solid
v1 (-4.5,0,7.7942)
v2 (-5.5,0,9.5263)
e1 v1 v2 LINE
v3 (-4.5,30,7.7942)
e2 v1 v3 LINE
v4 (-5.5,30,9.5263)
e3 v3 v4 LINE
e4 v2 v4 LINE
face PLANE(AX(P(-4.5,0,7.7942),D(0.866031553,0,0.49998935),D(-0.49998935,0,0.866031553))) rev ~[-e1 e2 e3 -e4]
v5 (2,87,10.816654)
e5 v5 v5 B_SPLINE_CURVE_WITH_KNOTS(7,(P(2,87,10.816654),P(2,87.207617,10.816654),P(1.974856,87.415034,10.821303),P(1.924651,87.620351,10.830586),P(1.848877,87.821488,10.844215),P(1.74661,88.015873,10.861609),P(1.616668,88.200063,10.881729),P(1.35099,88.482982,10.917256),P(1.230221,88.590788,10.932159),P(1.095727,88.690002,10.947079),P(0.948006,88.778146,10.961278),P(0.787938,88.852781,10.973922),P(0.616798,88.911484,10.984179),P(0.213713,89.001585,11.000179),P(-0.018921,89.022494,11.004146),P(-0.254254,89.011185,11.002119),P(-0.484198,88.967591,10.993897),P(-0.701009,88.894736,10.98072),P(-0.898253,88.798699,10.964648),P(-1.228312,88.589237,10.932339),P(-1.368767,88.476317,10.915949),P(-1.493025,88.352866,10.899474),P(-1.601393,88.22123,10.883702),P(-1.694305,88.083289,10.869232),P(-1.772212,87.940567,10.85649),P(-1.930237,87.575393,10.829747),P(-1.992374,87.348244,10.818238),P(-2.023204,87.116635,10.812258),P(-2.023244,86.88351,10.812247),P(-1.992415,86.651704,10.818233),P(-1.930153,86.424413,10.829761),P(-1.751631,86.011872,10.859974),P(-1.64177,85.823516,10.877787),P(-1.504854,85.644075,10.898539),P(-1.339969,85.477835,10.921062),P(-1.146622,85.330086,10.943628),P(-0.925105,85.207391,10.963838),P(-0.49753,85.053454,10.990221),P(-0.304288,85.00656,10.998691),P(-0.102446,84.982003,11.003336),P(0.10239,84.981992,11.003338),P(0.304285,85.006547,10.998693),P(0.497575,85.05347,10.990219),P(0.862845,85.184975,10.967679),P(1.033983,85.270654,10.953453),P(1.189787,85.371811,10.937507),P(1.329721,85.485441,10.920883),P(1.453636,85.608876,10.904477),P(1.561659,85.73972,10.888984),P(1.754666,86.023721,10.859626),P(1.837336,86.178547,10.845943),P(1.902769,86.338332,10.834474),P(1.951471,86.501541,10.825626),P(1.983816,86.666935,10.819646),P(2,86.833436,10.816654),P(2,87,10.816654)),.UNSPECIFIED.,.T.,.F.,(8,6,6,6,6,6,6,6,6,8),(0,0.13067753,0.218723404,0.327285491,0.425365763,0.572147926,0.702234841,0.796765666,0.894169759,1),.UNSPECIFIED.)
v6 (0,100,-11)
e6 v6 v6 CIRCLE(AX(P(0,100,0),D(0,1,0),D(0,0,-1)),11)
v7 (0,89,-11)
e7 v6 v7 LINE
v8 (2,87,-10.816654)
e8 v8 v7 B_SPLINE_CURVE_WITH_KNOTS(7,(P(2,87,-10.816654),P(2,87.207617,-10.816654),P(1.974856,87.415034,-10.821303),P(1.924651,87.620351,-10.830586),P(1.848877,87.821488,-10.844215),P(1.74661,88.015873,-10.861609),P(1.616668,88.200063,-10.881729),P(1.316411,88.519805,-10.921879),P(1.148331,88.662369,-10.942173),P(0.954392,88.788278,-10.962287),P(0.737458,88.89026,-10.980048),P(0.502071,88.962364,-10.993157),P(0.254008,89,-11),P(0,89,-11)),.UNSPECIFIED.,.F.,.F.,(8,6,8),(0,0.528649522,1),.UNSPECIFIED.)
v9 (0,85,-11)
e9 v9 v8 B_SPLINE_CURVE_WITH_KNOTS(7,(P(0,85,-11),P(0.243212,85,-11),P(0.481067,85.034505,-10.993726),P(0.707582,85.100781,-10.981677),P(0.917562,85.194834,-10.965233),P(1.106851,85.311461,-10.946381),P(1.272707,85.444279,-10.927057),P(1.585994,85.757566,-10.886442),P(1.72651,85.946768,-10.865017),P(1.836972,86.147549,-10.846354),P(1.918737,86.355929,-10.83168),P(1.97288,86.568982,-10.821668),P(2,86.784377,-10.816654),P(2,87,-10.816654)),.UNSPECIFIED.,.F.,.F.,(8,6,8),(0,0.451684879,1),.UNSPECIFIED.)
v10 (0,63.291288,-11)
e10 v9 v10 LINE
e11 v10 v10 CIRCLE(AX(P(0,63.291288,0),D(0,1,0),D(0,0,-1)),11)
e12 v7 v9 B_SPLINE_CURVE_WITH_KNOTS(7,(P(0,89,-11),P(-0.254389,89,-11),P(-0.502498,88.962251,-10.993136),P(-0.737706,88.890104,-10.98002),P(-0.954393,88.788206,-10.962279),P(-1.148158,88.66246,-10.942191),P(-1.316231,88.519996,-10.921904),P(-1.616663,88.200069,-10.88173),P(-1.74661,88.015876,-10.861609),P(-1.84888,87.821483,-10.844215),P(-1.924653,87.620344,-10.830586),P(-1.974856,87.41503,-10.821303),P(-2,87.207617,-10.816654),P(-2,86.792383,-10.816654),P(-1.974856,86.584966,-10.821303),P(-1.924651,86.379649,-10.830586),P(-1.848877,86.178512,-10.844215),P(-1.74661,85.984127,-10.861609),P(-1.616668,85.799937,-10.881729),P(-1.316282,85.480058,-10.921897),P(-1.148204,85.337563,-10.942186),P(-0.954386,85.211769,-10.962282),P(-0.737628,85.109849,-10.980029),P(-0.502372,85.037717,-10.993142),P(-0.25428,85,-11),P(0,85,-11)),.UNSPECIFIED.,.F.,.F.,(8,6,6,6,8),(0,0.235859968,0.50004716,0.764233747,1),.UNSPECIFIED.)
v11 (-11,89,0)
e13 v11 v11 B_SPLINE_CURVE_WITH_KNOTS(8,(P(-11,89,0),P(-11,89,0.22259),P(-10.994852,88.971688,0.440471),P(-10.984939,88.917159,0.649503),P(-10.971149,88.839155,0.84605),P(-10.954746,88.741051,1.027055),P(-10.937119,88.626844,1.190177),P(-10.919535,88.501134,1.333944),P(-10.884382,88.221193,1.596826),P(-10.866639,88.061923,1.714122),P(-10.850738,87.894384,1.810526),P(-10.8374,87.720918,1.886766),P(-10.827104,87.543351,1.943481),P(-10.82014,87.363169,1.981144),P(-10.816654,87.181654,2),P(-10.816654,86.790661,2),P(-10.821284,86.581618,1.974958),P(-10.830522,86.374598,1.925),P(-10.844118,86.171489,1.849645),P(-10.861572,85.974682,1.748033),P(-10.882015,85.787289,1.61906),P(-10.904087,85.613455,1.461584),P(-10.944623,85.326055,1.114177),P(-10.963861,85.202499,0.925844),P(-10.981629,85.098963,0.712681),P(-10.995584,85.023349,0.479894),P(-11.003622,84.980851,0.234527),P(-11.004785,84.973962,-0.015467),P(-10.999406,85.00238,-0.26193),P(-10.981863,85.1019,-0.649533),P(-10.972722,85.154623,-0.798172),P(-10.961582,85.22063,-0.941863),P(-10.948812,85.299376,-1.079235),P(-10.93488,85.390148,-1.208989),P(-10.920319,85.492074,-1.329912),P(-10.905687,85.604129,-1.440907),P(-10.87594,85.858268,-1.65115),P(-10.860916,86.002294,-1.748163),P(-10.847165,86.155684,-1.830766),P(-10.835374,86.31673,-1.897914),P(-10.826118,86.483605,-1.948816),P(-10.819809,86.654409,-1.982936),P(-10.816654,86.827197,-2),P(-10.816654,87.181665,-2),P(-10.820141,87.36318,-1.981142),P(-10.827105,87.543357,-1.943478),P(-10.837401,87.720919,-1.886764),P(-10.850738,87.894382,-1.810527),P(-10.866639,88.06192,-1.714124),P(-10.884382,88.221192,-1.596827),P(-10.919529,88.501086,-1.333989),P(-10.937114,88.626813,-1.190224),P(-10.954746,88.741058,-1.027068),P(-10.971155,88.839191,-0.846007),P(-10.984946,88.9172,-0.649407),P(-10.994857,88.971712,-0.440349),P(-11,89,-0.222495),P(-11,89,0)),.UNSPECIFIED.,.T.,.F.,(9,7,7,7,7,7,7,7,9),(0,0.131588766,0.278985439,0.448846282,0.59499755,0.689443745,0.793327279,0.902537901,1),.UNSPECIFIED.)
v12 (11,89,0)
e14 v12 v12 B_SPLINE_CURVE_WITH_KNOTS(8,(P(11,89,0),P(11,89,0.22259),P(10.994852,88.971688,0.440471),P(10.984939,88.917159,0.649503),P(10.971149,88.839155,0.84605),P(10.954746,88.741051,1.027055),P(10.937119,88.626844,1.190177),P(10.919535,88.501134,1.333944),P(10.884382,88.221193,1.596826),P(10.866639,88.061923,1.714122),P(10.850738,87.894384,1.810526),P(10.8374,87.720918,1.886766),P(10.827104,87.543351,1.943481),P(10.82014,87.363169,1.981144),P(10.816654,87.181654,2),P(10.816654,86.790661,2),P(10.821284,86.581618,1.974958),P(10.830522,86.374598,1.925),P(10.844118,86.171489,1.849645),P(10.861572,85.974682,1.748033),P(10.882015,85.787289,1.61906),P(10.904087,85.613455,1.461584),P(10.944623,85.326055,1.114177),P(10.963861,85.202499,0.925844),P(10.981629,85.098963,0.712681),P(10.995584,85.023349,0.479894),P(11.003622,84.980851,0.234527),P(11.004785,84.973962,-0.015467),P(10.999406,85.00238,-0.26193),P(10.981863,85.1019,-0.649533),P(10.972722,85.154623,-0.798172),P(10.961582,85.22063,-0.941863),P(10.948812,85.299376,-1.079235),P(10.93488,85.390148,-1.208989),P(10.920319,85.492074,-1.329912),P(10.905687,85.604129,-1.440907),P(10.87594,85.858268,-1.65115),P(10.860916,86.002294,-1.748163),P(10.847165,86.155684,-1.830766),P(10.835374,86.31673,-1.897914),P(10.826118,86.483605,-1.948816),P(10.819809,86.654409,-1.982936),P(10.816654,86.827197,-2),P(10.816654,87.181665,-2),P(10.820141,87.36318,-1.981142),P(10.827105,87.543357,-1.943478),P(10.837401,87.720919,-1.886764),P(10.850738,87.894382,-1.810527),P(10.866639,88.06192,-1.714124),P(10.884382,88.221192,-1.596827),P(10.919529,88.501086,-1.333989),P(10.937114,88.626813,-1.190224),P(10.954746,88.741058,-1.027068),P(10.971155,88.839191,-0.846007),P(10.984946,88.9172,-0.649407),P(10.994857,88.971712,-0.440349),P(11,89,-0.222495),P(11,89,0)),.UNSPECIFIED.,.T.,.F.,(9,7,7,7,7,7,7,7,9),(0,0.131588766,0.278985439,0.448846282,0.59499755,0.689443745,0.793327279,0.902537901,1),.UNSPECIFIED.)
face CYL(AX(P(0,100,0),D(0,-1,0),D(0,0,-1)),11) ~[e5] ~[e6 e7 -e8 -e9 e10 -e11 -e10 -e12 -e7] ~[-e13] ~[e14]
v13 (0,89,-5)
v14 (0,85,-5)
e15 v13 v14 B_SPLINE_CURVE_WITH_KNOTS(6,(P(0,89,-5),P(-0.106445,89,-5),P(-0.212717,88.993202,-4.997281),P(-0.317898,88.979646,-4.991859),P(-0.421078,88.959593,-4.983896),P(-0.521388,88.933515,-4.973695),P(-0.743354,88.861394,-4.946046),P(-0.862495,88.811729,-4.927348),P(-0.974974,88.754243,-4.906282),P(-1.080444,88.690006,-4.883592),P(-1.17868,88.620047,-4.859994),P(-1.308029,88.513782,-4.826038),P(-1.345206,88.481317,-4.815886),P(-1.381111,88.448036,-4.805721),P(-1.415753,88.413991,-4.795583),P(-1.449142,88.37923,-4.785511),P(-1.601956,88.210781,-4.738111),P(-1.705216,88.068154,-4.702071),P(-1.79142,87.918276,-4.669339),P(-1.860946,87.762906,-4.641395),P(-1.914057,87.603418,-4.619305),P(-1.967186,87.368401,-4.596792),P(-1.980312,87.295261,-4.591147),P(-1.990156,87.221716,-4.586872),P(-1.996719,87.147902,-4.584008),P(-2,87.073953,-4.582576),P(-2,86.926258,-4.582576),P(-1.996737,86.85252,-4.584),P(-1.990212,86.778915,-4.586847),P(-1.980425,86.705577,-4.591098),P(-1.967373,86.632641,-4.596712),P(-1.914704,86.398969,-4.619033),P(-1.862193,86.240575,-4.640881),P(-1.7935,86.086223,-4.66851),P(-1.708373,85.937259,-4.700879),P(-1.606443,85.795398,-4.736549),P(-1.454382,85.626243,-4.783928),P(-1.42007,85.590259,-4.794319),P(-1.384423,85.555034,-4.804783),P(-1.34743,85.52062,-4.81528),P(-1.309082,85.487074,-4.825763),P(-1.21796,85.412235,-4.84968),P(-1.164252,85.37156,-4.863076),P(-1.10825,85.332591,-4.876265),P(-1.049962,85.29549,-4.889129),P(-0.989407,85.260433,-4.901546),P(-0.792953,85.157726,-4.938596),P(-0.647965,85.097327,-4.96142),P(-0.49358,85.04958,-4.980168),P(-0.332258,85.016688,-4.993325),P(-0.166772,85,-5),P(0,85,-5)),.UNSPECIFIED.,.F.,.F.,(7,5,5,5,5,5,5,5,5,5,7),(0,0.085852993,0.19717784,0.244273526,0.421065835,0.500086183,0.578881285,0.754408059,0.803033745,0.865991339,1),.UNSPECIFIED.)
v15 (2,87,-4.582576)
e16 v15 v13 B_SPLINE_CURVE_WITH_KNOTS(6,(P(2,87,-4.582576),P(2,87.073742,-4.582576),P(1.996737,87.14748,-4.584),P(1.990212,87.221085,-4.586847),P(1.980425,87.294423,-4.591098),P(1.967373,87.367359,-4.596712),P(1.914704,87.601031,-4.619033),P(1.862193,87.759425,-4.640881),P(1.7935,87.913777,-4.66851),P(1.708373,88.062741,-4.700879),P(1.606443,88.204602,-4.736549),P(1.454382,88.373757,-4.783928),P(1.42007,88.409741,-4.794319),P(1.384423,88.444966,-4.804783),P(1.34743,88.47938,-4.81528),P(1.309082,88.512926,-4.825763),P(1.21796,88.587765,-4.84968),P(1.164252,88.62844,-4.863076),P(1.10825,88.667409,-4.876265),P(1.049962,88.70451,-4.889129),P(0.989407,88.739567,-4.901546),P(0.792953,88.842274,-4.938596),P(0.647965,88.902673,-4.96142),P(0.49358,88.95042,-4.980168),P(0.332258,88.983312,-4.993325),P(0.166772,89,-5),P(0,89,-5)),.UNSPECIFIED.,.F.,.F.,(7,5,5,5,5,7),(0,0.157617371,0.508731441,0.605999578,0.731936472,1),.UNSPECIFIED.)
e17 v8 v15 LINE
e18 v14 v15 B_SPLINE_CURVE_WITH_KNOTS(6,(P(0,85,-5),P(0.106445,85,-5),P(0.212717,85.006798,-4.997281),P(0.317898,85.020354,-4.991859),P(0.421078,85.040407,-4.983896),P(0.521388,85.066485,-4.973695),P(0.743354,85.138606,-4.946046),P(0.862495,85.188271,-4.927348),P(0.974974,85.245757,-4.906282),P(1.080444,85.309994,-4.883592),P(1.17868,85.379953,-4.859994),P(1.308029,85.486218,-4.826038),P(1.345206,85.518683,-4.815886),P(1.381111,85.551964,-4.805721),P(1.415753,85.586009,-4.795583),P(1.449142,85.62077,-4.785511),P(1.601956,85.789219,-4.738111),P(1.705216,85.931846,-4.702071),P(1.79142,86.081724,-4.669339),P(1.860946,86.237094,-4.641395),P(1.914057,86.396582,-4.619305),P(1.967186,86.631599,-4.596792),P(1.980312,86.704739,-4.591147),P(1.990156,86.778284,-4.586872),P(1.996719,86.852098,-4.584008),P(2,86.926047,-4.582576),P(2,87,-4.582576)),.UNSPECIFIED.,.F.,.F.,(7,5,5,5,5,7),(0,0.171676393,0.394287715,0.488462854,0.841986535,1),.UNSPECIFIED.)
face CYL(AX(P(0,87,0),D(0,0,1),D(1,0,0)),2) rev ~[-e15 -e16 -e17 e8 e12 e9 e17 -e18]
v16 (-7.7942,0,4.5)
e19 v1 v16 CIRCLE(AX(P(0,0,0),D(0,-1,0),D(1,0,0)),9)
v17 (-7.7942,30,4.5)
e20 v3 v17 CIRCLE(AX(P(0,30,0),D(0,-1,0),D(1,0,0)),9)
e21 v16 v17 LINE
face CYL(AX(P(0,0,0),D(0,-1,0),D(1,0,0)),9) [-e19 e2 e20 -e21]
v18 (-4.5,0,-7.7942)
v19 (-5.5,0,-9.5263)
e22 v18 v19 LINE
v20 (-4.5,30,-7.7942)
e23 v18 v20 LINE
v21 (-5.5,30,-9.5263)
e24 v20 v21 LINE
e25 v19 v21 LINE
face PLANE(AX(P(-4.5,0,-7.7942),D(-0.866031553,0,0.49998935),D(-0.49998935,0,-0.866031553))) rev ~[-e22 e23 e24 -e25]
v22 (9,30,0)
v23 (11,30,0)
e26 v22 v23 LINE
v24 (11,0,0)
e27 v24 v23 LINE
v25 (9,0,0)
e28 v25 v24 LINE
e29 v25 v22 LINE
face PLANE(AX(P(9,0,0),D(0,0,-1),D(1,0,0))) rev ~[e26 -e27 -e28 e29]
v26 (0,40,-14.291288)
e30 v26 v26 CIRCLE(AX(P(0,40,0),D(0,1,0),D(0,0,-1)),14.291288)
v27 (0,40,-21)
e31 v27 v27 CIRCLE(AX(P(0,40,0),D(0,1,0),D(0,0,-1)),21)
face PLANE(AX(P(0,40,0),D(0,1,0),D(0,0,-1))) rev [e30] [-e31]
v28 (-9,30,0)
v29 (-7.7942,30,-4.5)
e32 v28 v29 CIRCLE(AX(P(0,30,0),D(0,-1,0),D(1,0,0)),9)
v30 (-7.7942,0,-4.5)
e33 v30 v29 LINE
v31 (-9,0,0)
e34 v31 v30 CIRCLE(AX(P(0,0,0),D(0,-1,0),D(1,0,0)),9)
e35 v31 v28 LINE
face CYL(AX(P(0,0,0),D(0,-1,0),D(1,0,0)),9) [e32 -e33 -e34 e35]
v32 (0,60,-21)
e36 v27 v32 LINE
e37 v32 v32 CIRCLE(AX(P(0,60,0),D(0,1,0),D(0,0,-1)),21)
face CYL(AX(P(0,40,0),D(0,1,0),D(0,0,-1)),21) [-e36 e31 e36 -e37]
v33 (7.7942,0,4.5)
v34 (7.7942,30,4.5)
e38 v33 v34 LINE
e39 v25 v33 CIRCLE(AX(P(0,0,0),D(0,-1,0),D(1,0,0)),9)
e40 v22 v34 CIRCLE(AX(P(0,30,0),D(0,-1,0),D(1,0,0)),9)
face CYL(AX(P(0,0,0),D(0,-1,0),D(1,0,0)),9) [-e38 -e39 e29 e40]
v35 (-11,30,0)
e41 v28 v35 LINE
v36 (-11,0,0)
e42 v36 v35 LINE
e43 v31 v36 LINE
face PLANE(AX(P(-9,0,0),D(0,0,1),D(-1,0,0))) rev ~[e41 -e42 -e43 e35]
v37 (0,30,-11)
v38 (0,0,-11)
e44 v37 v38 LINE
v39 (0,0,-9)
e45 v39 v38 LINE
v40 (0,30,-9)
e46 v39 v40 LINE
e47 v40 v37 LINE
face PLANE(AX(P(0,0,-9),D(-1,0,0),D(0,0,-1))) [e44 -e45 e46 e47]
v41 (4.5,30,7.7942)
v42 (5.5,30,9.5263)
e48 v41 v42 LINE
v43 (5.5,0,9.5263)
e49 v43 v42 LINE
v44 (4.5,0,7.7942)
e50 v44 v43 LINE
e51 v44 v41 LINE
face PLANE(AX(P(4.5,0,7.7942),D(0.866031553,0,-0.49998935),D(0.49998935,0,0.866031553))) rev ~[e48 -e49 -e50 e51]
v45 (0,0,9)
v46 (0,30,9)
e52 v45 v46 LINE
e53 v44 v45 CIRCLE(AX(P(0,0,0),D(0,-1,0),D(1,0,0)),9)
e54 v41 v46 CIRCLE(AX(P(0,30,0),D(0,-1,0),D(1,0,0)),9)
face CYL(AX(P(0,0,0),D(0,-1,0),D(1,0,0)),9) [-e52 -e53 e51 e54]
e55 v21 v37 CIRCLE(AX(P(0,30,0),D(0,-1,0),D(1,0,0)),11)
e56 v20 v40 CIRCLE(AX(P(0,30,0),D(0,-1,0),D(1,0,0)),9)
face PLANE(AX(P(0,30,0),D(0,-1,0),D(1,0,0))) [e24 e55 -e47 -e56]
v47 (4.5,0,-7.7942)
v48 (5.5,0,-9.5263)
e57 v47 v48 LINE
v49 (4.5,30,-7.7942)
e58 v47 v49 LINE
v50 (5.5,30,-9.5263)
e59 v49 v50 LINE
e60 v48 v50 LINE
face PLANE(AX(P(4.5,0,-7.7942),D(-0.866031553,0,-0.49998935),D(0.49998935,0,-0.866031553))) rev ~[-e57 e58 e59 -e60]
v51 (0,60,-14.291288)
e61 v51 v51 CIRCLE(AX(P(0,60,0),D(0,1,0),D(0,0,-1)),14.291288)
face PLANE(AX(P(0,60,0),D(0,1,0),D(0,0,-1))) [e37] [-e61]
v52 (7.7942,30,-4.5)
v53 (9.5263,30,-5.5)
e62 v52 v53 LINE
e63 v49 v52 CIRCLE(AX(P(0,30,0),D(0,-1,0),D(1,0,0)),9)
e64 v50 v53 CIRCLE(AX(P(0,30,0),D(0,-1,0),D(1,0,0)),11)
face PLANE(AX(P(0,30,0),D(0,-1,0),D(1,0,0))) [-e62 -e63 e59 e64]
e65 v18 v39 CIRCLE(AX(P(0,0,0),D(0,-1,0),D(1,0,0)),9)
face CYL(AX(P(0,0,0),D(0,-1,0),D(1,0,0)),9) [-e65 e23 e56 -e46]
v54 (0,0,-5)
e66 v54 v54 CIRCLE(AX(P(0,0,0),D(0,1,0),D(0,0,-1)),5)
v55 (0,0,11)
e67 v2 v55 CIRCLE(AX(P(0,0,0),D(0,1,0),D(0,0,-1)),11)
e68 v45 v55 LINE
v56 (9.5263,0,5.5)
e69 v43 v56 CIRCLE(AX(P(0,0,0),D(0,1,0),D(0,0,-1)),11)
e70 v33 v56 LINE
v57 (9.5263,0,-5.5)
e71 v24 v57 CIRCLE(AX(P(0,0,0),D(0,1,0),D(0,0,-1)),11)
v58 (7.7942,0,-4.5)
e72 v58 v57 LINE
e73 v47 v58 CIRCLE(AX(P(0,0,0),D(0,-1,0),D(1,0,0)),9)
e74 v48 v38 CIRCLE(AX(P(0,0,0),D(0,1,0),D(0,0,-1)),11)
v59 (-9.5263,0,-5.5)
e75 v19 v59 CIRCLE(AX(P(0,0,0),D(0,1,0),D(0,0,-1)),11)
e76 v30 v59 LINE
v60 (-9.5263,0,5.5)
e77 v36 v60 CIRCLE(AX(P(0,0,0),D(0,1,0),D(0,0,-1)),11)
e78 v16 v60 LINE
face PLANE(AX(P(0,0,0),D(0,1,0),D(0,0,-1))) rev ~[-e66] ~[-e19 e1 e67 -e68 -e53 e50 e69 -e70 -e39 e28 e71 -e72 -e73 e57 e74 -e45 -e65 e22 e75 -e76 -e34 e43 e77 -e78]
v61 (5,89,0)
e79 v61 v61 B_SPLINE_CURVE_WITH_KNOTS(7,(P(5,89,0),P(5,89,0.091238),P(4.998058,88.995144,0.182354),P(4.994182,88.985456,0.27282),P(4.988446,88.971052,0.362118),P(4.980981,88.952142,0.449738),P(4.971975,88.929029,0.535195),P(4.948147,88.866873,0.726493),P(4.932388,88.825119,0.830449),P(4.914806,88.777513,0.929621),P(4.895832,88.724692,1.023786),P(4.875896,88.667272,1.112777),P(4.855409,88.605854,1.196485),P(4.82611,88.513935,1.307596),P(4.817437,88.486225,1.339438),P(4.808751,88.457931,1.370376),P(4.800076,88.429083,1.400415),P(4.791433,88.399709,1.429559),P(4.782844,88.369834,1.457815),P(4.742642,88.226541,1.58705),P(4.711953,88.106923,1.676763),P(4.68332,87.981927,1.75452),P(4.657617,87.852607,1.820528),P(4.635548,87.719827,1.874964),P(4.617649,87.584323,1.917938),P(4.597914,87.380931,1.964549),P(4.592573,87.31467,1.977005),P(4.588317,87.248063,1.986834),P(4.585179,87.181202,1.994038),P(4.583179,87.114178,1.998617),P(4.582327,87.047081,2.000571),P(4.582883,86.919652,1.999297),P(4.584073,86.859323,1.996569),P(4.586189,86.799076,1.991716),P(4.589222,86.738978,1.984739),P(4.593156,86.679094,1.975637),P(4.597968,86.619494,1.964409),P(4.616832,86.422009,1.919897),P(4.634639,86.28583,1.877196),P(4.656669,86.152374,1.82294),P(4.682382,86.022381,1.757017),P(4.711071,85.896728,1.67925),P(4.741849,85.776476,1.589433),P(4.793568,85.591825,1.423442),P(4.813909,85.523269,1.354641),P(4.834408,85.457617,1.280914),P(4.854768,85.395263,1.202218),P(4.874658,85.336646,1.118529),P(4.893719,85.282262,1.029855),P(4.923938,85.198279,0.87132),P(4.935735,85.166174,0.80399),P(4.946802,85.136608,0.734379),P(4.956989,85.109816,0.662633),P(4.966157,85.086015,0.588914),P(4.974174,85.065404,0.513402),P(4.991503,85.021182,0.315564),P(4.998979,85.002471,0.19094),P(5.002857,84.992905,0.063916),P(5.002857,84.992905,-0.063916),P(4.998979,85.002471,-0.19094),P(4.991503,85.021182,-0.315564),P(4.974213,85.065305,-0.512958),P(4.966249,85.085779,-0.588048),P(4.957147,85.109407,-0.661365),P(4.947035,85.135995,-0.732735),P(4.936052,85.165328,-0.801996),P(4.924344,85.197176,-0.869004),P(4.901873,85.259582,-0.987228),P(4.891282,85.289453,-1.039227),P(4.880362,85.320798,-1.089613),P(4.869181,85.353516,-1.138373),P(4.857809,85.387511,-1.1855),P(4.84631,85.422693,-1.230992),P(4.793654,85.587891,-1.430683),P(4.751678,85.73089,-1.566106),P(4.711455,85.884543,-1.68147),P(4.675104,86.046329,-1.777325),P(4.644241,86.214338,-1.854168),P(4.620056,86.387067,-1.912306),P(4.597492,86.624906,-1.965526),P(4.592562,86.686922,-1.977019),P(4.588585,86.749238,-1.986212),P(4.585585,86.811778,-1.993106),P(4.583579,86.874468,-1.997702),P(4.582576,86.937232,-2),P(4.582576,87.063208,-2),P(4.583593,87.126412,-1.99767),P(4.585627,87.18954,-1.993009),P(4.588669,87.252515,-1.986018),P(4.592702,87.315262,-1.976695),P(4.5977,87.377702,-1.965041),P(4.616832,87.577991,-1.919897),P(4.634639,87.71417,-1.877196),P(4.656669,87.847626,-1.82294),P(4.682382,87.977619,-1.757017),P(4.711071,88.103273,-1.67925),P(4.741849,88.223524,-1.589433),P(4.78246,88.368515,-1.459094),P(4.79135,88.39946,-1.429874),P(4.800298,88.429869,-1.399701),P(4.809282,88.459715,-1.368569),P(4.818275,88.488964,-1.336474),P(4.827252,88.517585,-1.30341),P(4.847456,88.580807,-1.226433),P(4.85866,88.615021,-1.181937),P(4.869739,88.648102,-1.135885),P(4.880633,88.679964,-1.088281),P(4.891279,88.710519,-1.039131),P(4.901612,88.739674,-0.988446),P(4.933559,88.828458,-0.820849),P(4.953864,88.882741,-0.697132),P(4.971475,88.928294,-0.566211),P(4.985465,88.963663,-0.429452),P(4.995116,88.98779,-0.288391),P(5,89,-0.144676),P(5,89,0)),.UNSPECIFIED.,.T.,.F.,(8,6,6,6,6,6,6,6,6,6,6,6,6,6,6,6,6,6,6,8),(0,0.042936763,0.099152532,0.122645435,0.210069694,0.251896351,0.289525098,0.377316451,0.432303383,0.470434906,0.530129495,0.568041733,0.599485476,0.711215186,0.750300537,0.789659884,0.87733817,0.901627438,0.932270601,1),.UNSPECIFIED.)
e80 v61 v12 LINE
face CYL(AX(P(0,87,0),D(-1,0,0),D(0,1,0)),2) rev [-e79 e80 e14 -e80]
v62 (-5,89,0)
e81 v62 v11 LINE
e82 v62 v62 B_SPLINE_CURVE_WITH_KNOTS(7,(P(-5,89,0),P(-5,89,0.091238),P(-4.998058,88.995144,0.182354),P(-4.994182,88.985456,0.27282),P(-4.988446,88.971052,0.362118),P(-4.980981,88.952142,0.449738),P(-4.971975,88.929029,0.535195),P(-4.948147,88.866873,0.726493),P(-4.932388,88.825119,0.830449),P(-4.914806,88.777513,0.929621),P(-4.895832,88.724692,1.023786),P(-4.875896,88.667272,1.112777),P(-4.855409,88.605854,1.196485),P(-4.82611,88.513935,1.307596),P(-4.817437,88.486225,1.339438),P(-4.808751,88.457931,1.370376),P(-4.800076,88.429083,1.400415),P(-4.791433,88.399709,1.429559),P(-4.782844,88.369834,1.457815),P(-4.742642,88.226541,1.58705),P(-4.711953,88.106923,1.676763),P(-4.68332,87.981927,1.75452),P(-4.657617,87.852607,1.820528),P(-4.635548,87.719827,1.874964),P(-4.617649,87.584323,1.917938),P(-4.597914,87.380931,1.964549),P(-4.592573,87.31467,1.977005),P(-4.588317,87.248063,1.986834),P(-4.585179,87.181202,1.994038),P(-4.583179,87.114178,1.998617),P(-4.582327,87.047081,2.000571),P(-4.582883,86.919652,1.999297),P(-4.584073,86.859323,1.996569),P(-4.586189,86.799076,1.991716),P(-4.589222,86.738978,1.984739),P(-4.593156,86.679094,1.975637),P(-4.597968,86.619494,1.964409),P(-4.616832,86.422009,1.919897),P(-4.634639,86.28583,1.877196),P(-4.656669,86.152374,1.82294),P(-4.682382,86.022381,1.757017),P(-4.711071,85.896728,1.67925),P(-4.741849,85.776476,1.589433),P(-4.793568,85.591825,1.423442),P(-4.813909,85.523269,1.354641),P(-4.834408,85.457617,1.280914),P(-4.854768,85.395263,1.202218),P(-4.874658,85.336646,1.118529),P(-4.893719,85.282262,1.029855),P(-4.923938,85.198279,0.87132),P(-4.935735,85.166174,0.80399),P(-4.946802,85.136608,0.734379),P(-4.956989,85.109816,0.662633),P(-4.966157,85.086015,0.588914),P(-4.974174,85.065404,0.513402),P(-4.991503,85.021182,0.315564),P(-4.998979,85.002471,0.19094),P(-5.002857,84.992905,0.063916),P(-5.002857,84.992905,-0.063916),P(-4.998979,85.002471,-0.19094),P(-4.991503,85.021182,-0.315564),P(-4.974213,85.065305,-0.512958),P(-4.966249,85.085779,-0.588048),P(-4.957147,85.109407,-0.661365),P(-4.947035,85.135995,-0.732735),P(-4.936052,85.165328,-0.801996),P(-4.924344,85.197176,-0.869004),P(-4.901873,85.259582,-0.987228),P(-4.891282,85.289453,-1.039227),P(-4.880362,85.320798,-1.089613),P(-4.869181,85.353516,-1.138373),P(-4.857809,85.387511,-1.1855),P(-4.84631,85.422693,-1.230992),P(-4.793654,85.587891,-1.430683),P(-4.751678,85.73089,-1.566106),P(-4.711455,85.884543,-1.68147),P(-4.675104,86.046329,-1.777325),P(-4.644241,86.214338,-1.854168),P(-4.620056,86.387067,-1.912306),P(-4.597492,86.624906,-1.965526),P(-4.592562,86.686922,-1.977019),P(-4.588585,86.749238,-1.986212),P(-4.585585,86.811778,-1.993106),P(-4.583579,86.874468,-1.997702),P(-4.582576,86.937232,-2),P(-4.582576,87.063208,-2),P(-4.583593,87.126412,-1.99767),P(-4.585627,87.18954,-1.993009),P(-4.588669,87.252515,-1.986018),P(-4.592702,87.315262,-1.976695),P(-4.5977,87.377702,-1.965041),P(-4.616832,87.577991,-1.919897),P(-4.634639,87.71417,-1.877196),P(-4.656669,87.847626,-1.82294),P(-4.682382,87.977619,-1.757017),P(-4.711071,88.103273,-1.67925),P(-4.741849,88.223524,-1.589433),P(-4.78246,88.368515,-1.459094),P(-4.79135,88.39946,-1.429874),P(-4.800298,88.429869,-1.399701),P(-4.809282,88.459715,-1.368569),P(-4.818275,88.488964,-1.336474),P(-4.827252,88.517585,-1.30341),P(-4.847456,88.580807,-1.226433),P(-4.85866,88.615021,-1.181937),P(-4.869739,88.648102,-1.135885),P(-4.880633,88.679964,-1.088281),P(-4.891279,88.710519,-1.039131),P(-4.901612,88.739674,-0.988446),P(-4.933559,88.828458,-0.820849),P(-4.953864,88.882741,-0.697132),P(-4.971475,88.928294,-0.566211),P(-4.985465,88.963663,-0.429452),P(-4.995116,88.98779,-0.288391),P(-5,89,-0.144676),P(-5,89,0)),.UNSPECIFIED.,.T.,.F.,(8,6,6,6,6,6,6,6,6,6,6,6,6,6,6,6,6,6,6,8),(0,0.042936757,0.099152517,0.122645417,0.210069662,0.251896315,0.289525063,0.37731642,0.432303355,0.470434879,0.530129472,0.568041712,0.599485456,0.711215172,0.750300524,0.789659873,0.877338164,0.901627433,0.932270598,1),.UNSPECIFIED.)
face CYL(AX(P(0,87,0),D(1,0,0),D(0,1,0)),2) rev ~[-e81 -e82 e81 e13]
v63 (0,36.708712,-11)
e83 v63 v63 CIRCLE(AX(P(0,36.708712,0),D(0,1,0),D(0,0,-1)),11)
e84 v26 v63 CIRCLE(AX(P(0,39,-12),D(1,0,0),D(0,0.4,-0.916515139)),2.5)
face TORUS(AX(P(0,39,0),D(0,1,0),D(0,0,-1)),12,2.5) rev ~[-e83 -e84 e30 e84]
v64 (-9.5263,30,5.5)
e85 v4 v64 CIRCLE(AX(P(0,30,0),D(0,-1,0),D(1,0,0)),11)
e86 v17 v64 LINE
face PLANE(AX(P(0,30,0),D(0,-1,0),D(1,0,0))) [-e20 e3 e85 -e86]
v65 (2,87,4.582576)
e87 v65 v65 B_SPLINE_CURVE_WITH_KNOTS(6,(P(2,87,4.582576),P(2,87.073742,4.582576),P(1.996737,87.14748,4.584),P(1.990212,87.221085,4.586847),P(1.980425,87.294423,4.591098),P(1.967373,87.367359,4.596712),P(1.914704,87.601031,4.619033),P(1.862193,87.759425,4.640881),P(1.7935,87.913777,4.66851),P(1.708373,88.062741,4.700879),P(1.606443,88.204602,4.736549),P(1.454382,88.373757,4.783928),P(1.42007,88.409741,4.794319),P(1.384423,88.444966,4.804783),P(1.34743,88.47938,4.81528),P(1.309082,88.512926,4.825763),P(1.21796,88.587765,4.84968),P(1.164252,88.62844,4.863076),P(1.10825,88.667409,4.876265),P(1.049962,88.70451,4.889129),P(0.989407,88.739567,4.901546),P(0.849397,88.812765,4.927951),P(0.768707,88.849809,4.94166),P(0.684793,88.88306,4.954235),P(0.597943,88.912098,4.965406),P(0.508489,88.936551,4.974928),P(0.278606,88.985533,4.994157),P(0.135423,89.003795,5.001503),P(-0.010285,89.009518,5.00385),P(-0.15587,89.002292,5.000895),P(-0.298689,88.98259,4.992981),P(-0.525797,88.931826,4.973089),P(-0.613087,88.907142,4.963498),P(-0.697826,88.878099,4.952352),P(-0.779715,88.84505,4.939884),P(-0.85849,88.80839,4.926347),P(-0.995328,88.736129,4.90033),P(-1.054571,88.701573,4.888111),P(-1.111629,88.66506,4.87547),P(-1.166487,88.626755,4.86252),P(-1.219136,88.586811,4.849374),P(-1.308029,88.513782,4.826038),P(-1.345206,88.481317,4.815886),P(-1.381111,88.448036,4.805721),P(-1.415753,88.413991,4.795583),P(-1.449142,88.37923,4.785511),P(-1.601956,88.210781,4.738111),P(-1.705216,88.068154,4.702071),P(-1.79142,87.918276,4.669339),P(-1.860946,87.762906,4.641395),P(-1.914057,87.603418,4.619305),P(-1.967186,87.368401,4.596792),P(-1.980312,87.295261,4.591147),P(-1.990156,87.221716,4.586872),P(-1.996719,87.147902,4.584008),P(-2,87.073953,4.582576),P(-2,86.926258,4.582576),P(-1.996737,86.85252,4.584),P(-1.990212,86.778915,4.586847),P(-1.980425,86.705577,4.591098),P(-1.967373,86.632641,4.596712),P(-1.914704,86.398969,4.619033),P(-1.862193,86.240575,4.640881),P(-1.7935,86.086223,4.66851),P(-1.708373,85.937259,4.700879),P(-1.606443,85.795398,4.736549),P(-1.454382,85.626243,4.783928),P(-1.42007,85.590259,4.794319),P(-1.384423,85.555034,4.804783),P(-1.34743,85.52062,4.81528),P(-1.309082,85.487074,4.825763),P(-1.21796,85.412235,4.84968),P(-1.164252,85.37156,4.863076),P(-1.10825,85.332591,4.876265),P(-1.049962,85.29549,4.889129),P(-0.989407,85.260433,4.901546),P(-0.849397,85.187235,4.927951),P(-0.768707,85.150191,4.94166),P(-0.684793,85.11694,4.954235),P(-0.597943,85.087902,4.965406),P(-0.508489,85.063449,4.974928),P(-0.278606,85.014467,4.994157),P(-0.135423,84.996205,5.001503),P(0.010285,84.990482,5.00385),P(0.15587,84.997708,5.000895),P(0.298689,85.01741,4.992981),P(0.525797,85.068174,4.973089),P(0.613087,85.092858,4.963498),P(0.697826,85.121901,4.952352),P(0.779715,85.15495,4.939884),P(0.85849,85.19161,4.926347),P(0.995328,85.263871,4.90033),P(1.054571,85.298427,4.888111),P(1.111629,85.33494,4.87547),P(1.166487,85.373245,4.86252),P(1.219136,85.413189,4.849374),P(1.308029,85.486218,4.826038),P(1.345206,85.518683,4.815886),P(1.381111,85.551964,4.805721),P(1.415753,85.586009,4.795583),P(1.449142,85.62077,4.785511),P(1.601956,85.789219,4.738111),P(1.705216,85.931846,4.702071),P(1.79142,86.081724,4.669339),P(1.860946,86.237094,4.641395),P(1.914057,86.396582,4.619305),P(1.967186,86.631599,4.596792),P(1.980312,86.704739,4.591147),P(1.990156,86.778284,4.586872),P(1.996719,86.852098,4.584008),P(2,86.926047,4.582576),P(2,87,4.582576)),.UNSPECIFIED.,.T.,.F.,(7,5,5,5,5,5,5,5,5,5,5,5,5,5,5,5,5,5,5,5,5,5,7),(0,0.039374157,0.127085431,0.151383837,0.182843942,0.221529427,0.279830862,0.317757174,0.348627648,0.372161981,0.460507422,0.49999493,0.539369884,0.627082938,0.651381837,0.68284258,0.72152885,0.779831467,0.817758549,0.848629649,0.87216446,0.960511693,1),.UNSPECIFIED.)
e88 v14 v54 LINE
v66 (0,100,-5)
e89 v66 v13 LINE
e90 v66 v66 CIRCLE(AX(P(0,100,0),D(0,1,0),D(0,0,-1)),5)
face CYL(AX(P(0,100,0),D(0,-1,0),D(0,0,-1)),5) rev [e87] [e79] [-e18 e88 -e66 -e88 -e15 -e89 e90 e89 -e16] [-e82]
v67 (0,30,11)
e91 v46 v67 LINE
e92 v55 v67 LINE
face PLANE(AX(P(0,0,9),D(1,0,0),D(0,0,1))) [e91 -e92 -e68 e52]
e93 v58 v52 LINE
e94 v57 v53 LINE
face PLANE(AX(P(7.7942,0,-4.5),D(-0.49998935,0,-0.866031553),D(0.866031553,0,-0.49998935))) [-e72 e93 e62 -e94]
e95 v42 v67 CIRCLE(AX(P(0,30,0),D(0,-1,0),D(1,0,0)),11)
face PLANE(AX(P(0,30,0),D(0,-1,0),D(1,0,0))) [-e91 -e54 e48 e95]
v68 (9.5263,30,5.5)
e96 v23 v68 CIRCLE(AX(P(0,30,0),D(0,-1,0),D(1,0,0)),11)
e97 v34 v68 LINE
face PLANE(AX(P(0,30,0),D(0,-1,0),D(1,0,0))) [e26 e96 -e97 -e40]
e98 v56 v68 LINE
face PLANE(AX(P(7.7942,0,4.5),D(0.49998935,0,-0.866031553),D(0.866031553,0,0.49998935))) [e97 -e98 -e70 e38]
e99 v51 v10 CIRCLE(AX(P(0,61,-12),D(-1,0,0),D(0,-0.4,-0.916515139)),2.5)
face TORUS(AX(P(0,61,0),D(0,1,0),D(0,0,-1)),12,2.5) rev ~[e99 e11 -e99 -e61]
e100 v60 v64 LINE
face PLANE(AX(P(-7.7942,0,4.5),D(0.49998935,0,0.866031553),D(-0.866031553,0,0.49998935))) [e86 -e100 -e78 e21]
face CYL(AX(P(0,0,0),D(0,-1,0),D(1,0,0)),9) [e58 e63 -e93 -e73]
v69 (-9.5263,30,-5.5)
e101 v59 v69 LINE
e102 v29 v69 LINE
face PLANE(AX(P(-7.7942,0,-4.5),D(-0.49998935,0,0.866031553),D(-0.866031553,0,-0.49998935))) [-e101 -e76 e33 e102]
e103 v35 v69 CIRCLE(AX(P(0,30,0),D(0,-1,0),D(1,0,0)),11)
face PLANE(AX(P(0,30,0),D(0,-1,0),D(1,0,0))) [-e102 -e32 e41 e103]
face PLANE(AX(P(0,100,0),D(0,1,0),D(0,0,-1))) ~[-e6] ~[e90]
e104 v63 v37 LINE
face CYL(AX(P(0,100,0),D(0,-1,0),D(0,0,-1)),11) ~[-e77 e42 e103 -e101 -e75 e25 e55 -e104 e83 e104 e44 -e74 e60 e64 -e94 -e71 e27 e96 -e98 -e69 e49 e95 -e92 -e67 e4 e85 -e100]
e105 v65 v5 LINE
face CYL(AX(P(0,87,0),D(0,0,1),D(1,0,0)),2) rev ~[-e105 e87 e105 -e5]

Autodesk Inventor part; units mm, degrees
ref_plane "YZ Plane" through (0, 0, 0) normal (1, 0, 0) x (0, 1, 0)
ref_plane "XZ Plane" through (0, 0, 0) normal (0, 1, 0) x (-1, 0, 0)
ref_plane "XY Plane" through (0, 0, 0) normal (0, 0, 1) x (1, 0, 0)
sketch "Sketch1" plane through (0, 0, 0) normal (1, 0, 0) x (0, 1, 0)
  line L0 (0, 0) -> (100, 0)
  line L1 (100, 0) -> (100, -11)
  line L2 (100, -11) -> (0, -11)
  line L3 (0, -11) -> (0, 0)
  line L4 (60, -11) -> (40, -11)
  line L5 (40, -11) -> (40, -21)
  line L6 (40, -21) -> (60, -21)
  line L7 (60, -21) -> (60, -11)
  line L8 (0, -11) -> (100, -11)
  line L9 (100, -11) -> (100, -5)
  line L10 (100, -5) -> (0, -5)
  line L11 (0, -5) -> (0, -11)
  circle A0 centre (39, -12) radius 2.5
  line L12 (37.2322, -10.2322) -> (40.7678, -13.7678) construction
  circle A1 centre (61, -12) radius 2.5
  line L13 (62.7678, -10.2322) -> (59.2322, -13.7678) construction
  point P0 (0, -5)
  point P1 (60, -14.2913)
  point P2 (63.2913, -11)
  point P3 (36.7087, -11)
  point P4 (40, -14.2913)
  dimension "d1" = 11
  dimension "d2" = 100
  dimension "d3" = 10
  dimension "d4" = 20
  dimension "d5" = 40
  dimension "d7" = 6
  dimension "d31" = 5
  dimension "d32" = 45
  dimension "d33" = 1
  dimension "d34" = 1
  dimension "d35" = 5
  dimension "d36" = 45
  dimension "d37" = 1
  dimension "d38" = 1
revolve "Revolution1" add sketch "Sketch1" angle 360 about axis through (0, 0, 0) along (0, 1, 0) contours L10 L1 L2 A1 A0 L3 | L2 A1 L7 L6 L5 A0
sketch "Sketch2" plane through (0, 0, 0) normal (1, 0, 0) x (0, 1, 0)
  circle A0 centre (87, 0) radius 2
  line L0 (100, 11) -> (100, -11) projected
  point P0 (0, 0)
  dimension "d8" = 4
  dimension "d9" = 13
extrude "Extrusion1" cut sketch "Sketch2" along normal through all both and the other way through all
sketch "Sketch3" plane through (0, 0, 0) normal (0, 0, 1) x (1, 0, 0)
  circle A0 centre (0, 87) radius 2
  line L0 (-11, 100) -> (11, 100) projected
  point P0 (0, 0)
  dimension "d12" = 13
  dimension "d13" = 4
extrude "Extrusion2" cut sketch "Sketch3" against normal through all both and the other way through all
sketch "Sketch4" plane through (0, 0, 0) normal (0, -1, 0) x (1, 0, 0)
  circle A0 centre (0, 0) radius 9
  line L0 (-9, 0) -> (-11, 0)
  circle A1 centre (0, 0) radius 11 projected
  line L1 (0, 9) -> (0, 11)
  line L2 (9, 0) -> (11, 0)
  line L3 (0, -9) -> (0, -11)
  line L4 (-4.5, -7.7942) -> (-5.5, -9.5263)
  line L5 (-7.7942, -4.5) -> (-9.5263, -5.5)
  line L6 (-7.7942, 4.5) -> (-9.5263, 5.5)
  line L7 (-4.5, 7.7942) -> (-5.5, 9.5263)
  line L8 (4.5, 7.7942) -> (5.5, 9.5263)
  line L9 (7.7942, 4.5) -> (9.5263, 5.5)
  line L10 (7.7942, -4.5) -> (9.5263, -5.5)
  line L11 (4.5, -7.7942) -> (5.5, -9.5263)
  dimension "d21" = 18
  dimension "d22" = 30
  dimension "d23" = 30
  dimension "d24" = 30
  dimension "d25" = 30
extrude "Extrusion3" cut sketch "Sketch4" against normal blind 30 contours A0 L9 A1 L2 | L10 A1 L11 A0 | A0 L1 A1 L8 | L3 A1 L4 A0 | A0 L6 A1 L7 | L5 A1 L0 A0
equation "\"d34\" = d33"
equation "\"d38\" = d37"
equation "\"d23\" = d22"
equation "\"d24\" = d22"
equation "\"d25\" = d22"
properties part number "shaft"
